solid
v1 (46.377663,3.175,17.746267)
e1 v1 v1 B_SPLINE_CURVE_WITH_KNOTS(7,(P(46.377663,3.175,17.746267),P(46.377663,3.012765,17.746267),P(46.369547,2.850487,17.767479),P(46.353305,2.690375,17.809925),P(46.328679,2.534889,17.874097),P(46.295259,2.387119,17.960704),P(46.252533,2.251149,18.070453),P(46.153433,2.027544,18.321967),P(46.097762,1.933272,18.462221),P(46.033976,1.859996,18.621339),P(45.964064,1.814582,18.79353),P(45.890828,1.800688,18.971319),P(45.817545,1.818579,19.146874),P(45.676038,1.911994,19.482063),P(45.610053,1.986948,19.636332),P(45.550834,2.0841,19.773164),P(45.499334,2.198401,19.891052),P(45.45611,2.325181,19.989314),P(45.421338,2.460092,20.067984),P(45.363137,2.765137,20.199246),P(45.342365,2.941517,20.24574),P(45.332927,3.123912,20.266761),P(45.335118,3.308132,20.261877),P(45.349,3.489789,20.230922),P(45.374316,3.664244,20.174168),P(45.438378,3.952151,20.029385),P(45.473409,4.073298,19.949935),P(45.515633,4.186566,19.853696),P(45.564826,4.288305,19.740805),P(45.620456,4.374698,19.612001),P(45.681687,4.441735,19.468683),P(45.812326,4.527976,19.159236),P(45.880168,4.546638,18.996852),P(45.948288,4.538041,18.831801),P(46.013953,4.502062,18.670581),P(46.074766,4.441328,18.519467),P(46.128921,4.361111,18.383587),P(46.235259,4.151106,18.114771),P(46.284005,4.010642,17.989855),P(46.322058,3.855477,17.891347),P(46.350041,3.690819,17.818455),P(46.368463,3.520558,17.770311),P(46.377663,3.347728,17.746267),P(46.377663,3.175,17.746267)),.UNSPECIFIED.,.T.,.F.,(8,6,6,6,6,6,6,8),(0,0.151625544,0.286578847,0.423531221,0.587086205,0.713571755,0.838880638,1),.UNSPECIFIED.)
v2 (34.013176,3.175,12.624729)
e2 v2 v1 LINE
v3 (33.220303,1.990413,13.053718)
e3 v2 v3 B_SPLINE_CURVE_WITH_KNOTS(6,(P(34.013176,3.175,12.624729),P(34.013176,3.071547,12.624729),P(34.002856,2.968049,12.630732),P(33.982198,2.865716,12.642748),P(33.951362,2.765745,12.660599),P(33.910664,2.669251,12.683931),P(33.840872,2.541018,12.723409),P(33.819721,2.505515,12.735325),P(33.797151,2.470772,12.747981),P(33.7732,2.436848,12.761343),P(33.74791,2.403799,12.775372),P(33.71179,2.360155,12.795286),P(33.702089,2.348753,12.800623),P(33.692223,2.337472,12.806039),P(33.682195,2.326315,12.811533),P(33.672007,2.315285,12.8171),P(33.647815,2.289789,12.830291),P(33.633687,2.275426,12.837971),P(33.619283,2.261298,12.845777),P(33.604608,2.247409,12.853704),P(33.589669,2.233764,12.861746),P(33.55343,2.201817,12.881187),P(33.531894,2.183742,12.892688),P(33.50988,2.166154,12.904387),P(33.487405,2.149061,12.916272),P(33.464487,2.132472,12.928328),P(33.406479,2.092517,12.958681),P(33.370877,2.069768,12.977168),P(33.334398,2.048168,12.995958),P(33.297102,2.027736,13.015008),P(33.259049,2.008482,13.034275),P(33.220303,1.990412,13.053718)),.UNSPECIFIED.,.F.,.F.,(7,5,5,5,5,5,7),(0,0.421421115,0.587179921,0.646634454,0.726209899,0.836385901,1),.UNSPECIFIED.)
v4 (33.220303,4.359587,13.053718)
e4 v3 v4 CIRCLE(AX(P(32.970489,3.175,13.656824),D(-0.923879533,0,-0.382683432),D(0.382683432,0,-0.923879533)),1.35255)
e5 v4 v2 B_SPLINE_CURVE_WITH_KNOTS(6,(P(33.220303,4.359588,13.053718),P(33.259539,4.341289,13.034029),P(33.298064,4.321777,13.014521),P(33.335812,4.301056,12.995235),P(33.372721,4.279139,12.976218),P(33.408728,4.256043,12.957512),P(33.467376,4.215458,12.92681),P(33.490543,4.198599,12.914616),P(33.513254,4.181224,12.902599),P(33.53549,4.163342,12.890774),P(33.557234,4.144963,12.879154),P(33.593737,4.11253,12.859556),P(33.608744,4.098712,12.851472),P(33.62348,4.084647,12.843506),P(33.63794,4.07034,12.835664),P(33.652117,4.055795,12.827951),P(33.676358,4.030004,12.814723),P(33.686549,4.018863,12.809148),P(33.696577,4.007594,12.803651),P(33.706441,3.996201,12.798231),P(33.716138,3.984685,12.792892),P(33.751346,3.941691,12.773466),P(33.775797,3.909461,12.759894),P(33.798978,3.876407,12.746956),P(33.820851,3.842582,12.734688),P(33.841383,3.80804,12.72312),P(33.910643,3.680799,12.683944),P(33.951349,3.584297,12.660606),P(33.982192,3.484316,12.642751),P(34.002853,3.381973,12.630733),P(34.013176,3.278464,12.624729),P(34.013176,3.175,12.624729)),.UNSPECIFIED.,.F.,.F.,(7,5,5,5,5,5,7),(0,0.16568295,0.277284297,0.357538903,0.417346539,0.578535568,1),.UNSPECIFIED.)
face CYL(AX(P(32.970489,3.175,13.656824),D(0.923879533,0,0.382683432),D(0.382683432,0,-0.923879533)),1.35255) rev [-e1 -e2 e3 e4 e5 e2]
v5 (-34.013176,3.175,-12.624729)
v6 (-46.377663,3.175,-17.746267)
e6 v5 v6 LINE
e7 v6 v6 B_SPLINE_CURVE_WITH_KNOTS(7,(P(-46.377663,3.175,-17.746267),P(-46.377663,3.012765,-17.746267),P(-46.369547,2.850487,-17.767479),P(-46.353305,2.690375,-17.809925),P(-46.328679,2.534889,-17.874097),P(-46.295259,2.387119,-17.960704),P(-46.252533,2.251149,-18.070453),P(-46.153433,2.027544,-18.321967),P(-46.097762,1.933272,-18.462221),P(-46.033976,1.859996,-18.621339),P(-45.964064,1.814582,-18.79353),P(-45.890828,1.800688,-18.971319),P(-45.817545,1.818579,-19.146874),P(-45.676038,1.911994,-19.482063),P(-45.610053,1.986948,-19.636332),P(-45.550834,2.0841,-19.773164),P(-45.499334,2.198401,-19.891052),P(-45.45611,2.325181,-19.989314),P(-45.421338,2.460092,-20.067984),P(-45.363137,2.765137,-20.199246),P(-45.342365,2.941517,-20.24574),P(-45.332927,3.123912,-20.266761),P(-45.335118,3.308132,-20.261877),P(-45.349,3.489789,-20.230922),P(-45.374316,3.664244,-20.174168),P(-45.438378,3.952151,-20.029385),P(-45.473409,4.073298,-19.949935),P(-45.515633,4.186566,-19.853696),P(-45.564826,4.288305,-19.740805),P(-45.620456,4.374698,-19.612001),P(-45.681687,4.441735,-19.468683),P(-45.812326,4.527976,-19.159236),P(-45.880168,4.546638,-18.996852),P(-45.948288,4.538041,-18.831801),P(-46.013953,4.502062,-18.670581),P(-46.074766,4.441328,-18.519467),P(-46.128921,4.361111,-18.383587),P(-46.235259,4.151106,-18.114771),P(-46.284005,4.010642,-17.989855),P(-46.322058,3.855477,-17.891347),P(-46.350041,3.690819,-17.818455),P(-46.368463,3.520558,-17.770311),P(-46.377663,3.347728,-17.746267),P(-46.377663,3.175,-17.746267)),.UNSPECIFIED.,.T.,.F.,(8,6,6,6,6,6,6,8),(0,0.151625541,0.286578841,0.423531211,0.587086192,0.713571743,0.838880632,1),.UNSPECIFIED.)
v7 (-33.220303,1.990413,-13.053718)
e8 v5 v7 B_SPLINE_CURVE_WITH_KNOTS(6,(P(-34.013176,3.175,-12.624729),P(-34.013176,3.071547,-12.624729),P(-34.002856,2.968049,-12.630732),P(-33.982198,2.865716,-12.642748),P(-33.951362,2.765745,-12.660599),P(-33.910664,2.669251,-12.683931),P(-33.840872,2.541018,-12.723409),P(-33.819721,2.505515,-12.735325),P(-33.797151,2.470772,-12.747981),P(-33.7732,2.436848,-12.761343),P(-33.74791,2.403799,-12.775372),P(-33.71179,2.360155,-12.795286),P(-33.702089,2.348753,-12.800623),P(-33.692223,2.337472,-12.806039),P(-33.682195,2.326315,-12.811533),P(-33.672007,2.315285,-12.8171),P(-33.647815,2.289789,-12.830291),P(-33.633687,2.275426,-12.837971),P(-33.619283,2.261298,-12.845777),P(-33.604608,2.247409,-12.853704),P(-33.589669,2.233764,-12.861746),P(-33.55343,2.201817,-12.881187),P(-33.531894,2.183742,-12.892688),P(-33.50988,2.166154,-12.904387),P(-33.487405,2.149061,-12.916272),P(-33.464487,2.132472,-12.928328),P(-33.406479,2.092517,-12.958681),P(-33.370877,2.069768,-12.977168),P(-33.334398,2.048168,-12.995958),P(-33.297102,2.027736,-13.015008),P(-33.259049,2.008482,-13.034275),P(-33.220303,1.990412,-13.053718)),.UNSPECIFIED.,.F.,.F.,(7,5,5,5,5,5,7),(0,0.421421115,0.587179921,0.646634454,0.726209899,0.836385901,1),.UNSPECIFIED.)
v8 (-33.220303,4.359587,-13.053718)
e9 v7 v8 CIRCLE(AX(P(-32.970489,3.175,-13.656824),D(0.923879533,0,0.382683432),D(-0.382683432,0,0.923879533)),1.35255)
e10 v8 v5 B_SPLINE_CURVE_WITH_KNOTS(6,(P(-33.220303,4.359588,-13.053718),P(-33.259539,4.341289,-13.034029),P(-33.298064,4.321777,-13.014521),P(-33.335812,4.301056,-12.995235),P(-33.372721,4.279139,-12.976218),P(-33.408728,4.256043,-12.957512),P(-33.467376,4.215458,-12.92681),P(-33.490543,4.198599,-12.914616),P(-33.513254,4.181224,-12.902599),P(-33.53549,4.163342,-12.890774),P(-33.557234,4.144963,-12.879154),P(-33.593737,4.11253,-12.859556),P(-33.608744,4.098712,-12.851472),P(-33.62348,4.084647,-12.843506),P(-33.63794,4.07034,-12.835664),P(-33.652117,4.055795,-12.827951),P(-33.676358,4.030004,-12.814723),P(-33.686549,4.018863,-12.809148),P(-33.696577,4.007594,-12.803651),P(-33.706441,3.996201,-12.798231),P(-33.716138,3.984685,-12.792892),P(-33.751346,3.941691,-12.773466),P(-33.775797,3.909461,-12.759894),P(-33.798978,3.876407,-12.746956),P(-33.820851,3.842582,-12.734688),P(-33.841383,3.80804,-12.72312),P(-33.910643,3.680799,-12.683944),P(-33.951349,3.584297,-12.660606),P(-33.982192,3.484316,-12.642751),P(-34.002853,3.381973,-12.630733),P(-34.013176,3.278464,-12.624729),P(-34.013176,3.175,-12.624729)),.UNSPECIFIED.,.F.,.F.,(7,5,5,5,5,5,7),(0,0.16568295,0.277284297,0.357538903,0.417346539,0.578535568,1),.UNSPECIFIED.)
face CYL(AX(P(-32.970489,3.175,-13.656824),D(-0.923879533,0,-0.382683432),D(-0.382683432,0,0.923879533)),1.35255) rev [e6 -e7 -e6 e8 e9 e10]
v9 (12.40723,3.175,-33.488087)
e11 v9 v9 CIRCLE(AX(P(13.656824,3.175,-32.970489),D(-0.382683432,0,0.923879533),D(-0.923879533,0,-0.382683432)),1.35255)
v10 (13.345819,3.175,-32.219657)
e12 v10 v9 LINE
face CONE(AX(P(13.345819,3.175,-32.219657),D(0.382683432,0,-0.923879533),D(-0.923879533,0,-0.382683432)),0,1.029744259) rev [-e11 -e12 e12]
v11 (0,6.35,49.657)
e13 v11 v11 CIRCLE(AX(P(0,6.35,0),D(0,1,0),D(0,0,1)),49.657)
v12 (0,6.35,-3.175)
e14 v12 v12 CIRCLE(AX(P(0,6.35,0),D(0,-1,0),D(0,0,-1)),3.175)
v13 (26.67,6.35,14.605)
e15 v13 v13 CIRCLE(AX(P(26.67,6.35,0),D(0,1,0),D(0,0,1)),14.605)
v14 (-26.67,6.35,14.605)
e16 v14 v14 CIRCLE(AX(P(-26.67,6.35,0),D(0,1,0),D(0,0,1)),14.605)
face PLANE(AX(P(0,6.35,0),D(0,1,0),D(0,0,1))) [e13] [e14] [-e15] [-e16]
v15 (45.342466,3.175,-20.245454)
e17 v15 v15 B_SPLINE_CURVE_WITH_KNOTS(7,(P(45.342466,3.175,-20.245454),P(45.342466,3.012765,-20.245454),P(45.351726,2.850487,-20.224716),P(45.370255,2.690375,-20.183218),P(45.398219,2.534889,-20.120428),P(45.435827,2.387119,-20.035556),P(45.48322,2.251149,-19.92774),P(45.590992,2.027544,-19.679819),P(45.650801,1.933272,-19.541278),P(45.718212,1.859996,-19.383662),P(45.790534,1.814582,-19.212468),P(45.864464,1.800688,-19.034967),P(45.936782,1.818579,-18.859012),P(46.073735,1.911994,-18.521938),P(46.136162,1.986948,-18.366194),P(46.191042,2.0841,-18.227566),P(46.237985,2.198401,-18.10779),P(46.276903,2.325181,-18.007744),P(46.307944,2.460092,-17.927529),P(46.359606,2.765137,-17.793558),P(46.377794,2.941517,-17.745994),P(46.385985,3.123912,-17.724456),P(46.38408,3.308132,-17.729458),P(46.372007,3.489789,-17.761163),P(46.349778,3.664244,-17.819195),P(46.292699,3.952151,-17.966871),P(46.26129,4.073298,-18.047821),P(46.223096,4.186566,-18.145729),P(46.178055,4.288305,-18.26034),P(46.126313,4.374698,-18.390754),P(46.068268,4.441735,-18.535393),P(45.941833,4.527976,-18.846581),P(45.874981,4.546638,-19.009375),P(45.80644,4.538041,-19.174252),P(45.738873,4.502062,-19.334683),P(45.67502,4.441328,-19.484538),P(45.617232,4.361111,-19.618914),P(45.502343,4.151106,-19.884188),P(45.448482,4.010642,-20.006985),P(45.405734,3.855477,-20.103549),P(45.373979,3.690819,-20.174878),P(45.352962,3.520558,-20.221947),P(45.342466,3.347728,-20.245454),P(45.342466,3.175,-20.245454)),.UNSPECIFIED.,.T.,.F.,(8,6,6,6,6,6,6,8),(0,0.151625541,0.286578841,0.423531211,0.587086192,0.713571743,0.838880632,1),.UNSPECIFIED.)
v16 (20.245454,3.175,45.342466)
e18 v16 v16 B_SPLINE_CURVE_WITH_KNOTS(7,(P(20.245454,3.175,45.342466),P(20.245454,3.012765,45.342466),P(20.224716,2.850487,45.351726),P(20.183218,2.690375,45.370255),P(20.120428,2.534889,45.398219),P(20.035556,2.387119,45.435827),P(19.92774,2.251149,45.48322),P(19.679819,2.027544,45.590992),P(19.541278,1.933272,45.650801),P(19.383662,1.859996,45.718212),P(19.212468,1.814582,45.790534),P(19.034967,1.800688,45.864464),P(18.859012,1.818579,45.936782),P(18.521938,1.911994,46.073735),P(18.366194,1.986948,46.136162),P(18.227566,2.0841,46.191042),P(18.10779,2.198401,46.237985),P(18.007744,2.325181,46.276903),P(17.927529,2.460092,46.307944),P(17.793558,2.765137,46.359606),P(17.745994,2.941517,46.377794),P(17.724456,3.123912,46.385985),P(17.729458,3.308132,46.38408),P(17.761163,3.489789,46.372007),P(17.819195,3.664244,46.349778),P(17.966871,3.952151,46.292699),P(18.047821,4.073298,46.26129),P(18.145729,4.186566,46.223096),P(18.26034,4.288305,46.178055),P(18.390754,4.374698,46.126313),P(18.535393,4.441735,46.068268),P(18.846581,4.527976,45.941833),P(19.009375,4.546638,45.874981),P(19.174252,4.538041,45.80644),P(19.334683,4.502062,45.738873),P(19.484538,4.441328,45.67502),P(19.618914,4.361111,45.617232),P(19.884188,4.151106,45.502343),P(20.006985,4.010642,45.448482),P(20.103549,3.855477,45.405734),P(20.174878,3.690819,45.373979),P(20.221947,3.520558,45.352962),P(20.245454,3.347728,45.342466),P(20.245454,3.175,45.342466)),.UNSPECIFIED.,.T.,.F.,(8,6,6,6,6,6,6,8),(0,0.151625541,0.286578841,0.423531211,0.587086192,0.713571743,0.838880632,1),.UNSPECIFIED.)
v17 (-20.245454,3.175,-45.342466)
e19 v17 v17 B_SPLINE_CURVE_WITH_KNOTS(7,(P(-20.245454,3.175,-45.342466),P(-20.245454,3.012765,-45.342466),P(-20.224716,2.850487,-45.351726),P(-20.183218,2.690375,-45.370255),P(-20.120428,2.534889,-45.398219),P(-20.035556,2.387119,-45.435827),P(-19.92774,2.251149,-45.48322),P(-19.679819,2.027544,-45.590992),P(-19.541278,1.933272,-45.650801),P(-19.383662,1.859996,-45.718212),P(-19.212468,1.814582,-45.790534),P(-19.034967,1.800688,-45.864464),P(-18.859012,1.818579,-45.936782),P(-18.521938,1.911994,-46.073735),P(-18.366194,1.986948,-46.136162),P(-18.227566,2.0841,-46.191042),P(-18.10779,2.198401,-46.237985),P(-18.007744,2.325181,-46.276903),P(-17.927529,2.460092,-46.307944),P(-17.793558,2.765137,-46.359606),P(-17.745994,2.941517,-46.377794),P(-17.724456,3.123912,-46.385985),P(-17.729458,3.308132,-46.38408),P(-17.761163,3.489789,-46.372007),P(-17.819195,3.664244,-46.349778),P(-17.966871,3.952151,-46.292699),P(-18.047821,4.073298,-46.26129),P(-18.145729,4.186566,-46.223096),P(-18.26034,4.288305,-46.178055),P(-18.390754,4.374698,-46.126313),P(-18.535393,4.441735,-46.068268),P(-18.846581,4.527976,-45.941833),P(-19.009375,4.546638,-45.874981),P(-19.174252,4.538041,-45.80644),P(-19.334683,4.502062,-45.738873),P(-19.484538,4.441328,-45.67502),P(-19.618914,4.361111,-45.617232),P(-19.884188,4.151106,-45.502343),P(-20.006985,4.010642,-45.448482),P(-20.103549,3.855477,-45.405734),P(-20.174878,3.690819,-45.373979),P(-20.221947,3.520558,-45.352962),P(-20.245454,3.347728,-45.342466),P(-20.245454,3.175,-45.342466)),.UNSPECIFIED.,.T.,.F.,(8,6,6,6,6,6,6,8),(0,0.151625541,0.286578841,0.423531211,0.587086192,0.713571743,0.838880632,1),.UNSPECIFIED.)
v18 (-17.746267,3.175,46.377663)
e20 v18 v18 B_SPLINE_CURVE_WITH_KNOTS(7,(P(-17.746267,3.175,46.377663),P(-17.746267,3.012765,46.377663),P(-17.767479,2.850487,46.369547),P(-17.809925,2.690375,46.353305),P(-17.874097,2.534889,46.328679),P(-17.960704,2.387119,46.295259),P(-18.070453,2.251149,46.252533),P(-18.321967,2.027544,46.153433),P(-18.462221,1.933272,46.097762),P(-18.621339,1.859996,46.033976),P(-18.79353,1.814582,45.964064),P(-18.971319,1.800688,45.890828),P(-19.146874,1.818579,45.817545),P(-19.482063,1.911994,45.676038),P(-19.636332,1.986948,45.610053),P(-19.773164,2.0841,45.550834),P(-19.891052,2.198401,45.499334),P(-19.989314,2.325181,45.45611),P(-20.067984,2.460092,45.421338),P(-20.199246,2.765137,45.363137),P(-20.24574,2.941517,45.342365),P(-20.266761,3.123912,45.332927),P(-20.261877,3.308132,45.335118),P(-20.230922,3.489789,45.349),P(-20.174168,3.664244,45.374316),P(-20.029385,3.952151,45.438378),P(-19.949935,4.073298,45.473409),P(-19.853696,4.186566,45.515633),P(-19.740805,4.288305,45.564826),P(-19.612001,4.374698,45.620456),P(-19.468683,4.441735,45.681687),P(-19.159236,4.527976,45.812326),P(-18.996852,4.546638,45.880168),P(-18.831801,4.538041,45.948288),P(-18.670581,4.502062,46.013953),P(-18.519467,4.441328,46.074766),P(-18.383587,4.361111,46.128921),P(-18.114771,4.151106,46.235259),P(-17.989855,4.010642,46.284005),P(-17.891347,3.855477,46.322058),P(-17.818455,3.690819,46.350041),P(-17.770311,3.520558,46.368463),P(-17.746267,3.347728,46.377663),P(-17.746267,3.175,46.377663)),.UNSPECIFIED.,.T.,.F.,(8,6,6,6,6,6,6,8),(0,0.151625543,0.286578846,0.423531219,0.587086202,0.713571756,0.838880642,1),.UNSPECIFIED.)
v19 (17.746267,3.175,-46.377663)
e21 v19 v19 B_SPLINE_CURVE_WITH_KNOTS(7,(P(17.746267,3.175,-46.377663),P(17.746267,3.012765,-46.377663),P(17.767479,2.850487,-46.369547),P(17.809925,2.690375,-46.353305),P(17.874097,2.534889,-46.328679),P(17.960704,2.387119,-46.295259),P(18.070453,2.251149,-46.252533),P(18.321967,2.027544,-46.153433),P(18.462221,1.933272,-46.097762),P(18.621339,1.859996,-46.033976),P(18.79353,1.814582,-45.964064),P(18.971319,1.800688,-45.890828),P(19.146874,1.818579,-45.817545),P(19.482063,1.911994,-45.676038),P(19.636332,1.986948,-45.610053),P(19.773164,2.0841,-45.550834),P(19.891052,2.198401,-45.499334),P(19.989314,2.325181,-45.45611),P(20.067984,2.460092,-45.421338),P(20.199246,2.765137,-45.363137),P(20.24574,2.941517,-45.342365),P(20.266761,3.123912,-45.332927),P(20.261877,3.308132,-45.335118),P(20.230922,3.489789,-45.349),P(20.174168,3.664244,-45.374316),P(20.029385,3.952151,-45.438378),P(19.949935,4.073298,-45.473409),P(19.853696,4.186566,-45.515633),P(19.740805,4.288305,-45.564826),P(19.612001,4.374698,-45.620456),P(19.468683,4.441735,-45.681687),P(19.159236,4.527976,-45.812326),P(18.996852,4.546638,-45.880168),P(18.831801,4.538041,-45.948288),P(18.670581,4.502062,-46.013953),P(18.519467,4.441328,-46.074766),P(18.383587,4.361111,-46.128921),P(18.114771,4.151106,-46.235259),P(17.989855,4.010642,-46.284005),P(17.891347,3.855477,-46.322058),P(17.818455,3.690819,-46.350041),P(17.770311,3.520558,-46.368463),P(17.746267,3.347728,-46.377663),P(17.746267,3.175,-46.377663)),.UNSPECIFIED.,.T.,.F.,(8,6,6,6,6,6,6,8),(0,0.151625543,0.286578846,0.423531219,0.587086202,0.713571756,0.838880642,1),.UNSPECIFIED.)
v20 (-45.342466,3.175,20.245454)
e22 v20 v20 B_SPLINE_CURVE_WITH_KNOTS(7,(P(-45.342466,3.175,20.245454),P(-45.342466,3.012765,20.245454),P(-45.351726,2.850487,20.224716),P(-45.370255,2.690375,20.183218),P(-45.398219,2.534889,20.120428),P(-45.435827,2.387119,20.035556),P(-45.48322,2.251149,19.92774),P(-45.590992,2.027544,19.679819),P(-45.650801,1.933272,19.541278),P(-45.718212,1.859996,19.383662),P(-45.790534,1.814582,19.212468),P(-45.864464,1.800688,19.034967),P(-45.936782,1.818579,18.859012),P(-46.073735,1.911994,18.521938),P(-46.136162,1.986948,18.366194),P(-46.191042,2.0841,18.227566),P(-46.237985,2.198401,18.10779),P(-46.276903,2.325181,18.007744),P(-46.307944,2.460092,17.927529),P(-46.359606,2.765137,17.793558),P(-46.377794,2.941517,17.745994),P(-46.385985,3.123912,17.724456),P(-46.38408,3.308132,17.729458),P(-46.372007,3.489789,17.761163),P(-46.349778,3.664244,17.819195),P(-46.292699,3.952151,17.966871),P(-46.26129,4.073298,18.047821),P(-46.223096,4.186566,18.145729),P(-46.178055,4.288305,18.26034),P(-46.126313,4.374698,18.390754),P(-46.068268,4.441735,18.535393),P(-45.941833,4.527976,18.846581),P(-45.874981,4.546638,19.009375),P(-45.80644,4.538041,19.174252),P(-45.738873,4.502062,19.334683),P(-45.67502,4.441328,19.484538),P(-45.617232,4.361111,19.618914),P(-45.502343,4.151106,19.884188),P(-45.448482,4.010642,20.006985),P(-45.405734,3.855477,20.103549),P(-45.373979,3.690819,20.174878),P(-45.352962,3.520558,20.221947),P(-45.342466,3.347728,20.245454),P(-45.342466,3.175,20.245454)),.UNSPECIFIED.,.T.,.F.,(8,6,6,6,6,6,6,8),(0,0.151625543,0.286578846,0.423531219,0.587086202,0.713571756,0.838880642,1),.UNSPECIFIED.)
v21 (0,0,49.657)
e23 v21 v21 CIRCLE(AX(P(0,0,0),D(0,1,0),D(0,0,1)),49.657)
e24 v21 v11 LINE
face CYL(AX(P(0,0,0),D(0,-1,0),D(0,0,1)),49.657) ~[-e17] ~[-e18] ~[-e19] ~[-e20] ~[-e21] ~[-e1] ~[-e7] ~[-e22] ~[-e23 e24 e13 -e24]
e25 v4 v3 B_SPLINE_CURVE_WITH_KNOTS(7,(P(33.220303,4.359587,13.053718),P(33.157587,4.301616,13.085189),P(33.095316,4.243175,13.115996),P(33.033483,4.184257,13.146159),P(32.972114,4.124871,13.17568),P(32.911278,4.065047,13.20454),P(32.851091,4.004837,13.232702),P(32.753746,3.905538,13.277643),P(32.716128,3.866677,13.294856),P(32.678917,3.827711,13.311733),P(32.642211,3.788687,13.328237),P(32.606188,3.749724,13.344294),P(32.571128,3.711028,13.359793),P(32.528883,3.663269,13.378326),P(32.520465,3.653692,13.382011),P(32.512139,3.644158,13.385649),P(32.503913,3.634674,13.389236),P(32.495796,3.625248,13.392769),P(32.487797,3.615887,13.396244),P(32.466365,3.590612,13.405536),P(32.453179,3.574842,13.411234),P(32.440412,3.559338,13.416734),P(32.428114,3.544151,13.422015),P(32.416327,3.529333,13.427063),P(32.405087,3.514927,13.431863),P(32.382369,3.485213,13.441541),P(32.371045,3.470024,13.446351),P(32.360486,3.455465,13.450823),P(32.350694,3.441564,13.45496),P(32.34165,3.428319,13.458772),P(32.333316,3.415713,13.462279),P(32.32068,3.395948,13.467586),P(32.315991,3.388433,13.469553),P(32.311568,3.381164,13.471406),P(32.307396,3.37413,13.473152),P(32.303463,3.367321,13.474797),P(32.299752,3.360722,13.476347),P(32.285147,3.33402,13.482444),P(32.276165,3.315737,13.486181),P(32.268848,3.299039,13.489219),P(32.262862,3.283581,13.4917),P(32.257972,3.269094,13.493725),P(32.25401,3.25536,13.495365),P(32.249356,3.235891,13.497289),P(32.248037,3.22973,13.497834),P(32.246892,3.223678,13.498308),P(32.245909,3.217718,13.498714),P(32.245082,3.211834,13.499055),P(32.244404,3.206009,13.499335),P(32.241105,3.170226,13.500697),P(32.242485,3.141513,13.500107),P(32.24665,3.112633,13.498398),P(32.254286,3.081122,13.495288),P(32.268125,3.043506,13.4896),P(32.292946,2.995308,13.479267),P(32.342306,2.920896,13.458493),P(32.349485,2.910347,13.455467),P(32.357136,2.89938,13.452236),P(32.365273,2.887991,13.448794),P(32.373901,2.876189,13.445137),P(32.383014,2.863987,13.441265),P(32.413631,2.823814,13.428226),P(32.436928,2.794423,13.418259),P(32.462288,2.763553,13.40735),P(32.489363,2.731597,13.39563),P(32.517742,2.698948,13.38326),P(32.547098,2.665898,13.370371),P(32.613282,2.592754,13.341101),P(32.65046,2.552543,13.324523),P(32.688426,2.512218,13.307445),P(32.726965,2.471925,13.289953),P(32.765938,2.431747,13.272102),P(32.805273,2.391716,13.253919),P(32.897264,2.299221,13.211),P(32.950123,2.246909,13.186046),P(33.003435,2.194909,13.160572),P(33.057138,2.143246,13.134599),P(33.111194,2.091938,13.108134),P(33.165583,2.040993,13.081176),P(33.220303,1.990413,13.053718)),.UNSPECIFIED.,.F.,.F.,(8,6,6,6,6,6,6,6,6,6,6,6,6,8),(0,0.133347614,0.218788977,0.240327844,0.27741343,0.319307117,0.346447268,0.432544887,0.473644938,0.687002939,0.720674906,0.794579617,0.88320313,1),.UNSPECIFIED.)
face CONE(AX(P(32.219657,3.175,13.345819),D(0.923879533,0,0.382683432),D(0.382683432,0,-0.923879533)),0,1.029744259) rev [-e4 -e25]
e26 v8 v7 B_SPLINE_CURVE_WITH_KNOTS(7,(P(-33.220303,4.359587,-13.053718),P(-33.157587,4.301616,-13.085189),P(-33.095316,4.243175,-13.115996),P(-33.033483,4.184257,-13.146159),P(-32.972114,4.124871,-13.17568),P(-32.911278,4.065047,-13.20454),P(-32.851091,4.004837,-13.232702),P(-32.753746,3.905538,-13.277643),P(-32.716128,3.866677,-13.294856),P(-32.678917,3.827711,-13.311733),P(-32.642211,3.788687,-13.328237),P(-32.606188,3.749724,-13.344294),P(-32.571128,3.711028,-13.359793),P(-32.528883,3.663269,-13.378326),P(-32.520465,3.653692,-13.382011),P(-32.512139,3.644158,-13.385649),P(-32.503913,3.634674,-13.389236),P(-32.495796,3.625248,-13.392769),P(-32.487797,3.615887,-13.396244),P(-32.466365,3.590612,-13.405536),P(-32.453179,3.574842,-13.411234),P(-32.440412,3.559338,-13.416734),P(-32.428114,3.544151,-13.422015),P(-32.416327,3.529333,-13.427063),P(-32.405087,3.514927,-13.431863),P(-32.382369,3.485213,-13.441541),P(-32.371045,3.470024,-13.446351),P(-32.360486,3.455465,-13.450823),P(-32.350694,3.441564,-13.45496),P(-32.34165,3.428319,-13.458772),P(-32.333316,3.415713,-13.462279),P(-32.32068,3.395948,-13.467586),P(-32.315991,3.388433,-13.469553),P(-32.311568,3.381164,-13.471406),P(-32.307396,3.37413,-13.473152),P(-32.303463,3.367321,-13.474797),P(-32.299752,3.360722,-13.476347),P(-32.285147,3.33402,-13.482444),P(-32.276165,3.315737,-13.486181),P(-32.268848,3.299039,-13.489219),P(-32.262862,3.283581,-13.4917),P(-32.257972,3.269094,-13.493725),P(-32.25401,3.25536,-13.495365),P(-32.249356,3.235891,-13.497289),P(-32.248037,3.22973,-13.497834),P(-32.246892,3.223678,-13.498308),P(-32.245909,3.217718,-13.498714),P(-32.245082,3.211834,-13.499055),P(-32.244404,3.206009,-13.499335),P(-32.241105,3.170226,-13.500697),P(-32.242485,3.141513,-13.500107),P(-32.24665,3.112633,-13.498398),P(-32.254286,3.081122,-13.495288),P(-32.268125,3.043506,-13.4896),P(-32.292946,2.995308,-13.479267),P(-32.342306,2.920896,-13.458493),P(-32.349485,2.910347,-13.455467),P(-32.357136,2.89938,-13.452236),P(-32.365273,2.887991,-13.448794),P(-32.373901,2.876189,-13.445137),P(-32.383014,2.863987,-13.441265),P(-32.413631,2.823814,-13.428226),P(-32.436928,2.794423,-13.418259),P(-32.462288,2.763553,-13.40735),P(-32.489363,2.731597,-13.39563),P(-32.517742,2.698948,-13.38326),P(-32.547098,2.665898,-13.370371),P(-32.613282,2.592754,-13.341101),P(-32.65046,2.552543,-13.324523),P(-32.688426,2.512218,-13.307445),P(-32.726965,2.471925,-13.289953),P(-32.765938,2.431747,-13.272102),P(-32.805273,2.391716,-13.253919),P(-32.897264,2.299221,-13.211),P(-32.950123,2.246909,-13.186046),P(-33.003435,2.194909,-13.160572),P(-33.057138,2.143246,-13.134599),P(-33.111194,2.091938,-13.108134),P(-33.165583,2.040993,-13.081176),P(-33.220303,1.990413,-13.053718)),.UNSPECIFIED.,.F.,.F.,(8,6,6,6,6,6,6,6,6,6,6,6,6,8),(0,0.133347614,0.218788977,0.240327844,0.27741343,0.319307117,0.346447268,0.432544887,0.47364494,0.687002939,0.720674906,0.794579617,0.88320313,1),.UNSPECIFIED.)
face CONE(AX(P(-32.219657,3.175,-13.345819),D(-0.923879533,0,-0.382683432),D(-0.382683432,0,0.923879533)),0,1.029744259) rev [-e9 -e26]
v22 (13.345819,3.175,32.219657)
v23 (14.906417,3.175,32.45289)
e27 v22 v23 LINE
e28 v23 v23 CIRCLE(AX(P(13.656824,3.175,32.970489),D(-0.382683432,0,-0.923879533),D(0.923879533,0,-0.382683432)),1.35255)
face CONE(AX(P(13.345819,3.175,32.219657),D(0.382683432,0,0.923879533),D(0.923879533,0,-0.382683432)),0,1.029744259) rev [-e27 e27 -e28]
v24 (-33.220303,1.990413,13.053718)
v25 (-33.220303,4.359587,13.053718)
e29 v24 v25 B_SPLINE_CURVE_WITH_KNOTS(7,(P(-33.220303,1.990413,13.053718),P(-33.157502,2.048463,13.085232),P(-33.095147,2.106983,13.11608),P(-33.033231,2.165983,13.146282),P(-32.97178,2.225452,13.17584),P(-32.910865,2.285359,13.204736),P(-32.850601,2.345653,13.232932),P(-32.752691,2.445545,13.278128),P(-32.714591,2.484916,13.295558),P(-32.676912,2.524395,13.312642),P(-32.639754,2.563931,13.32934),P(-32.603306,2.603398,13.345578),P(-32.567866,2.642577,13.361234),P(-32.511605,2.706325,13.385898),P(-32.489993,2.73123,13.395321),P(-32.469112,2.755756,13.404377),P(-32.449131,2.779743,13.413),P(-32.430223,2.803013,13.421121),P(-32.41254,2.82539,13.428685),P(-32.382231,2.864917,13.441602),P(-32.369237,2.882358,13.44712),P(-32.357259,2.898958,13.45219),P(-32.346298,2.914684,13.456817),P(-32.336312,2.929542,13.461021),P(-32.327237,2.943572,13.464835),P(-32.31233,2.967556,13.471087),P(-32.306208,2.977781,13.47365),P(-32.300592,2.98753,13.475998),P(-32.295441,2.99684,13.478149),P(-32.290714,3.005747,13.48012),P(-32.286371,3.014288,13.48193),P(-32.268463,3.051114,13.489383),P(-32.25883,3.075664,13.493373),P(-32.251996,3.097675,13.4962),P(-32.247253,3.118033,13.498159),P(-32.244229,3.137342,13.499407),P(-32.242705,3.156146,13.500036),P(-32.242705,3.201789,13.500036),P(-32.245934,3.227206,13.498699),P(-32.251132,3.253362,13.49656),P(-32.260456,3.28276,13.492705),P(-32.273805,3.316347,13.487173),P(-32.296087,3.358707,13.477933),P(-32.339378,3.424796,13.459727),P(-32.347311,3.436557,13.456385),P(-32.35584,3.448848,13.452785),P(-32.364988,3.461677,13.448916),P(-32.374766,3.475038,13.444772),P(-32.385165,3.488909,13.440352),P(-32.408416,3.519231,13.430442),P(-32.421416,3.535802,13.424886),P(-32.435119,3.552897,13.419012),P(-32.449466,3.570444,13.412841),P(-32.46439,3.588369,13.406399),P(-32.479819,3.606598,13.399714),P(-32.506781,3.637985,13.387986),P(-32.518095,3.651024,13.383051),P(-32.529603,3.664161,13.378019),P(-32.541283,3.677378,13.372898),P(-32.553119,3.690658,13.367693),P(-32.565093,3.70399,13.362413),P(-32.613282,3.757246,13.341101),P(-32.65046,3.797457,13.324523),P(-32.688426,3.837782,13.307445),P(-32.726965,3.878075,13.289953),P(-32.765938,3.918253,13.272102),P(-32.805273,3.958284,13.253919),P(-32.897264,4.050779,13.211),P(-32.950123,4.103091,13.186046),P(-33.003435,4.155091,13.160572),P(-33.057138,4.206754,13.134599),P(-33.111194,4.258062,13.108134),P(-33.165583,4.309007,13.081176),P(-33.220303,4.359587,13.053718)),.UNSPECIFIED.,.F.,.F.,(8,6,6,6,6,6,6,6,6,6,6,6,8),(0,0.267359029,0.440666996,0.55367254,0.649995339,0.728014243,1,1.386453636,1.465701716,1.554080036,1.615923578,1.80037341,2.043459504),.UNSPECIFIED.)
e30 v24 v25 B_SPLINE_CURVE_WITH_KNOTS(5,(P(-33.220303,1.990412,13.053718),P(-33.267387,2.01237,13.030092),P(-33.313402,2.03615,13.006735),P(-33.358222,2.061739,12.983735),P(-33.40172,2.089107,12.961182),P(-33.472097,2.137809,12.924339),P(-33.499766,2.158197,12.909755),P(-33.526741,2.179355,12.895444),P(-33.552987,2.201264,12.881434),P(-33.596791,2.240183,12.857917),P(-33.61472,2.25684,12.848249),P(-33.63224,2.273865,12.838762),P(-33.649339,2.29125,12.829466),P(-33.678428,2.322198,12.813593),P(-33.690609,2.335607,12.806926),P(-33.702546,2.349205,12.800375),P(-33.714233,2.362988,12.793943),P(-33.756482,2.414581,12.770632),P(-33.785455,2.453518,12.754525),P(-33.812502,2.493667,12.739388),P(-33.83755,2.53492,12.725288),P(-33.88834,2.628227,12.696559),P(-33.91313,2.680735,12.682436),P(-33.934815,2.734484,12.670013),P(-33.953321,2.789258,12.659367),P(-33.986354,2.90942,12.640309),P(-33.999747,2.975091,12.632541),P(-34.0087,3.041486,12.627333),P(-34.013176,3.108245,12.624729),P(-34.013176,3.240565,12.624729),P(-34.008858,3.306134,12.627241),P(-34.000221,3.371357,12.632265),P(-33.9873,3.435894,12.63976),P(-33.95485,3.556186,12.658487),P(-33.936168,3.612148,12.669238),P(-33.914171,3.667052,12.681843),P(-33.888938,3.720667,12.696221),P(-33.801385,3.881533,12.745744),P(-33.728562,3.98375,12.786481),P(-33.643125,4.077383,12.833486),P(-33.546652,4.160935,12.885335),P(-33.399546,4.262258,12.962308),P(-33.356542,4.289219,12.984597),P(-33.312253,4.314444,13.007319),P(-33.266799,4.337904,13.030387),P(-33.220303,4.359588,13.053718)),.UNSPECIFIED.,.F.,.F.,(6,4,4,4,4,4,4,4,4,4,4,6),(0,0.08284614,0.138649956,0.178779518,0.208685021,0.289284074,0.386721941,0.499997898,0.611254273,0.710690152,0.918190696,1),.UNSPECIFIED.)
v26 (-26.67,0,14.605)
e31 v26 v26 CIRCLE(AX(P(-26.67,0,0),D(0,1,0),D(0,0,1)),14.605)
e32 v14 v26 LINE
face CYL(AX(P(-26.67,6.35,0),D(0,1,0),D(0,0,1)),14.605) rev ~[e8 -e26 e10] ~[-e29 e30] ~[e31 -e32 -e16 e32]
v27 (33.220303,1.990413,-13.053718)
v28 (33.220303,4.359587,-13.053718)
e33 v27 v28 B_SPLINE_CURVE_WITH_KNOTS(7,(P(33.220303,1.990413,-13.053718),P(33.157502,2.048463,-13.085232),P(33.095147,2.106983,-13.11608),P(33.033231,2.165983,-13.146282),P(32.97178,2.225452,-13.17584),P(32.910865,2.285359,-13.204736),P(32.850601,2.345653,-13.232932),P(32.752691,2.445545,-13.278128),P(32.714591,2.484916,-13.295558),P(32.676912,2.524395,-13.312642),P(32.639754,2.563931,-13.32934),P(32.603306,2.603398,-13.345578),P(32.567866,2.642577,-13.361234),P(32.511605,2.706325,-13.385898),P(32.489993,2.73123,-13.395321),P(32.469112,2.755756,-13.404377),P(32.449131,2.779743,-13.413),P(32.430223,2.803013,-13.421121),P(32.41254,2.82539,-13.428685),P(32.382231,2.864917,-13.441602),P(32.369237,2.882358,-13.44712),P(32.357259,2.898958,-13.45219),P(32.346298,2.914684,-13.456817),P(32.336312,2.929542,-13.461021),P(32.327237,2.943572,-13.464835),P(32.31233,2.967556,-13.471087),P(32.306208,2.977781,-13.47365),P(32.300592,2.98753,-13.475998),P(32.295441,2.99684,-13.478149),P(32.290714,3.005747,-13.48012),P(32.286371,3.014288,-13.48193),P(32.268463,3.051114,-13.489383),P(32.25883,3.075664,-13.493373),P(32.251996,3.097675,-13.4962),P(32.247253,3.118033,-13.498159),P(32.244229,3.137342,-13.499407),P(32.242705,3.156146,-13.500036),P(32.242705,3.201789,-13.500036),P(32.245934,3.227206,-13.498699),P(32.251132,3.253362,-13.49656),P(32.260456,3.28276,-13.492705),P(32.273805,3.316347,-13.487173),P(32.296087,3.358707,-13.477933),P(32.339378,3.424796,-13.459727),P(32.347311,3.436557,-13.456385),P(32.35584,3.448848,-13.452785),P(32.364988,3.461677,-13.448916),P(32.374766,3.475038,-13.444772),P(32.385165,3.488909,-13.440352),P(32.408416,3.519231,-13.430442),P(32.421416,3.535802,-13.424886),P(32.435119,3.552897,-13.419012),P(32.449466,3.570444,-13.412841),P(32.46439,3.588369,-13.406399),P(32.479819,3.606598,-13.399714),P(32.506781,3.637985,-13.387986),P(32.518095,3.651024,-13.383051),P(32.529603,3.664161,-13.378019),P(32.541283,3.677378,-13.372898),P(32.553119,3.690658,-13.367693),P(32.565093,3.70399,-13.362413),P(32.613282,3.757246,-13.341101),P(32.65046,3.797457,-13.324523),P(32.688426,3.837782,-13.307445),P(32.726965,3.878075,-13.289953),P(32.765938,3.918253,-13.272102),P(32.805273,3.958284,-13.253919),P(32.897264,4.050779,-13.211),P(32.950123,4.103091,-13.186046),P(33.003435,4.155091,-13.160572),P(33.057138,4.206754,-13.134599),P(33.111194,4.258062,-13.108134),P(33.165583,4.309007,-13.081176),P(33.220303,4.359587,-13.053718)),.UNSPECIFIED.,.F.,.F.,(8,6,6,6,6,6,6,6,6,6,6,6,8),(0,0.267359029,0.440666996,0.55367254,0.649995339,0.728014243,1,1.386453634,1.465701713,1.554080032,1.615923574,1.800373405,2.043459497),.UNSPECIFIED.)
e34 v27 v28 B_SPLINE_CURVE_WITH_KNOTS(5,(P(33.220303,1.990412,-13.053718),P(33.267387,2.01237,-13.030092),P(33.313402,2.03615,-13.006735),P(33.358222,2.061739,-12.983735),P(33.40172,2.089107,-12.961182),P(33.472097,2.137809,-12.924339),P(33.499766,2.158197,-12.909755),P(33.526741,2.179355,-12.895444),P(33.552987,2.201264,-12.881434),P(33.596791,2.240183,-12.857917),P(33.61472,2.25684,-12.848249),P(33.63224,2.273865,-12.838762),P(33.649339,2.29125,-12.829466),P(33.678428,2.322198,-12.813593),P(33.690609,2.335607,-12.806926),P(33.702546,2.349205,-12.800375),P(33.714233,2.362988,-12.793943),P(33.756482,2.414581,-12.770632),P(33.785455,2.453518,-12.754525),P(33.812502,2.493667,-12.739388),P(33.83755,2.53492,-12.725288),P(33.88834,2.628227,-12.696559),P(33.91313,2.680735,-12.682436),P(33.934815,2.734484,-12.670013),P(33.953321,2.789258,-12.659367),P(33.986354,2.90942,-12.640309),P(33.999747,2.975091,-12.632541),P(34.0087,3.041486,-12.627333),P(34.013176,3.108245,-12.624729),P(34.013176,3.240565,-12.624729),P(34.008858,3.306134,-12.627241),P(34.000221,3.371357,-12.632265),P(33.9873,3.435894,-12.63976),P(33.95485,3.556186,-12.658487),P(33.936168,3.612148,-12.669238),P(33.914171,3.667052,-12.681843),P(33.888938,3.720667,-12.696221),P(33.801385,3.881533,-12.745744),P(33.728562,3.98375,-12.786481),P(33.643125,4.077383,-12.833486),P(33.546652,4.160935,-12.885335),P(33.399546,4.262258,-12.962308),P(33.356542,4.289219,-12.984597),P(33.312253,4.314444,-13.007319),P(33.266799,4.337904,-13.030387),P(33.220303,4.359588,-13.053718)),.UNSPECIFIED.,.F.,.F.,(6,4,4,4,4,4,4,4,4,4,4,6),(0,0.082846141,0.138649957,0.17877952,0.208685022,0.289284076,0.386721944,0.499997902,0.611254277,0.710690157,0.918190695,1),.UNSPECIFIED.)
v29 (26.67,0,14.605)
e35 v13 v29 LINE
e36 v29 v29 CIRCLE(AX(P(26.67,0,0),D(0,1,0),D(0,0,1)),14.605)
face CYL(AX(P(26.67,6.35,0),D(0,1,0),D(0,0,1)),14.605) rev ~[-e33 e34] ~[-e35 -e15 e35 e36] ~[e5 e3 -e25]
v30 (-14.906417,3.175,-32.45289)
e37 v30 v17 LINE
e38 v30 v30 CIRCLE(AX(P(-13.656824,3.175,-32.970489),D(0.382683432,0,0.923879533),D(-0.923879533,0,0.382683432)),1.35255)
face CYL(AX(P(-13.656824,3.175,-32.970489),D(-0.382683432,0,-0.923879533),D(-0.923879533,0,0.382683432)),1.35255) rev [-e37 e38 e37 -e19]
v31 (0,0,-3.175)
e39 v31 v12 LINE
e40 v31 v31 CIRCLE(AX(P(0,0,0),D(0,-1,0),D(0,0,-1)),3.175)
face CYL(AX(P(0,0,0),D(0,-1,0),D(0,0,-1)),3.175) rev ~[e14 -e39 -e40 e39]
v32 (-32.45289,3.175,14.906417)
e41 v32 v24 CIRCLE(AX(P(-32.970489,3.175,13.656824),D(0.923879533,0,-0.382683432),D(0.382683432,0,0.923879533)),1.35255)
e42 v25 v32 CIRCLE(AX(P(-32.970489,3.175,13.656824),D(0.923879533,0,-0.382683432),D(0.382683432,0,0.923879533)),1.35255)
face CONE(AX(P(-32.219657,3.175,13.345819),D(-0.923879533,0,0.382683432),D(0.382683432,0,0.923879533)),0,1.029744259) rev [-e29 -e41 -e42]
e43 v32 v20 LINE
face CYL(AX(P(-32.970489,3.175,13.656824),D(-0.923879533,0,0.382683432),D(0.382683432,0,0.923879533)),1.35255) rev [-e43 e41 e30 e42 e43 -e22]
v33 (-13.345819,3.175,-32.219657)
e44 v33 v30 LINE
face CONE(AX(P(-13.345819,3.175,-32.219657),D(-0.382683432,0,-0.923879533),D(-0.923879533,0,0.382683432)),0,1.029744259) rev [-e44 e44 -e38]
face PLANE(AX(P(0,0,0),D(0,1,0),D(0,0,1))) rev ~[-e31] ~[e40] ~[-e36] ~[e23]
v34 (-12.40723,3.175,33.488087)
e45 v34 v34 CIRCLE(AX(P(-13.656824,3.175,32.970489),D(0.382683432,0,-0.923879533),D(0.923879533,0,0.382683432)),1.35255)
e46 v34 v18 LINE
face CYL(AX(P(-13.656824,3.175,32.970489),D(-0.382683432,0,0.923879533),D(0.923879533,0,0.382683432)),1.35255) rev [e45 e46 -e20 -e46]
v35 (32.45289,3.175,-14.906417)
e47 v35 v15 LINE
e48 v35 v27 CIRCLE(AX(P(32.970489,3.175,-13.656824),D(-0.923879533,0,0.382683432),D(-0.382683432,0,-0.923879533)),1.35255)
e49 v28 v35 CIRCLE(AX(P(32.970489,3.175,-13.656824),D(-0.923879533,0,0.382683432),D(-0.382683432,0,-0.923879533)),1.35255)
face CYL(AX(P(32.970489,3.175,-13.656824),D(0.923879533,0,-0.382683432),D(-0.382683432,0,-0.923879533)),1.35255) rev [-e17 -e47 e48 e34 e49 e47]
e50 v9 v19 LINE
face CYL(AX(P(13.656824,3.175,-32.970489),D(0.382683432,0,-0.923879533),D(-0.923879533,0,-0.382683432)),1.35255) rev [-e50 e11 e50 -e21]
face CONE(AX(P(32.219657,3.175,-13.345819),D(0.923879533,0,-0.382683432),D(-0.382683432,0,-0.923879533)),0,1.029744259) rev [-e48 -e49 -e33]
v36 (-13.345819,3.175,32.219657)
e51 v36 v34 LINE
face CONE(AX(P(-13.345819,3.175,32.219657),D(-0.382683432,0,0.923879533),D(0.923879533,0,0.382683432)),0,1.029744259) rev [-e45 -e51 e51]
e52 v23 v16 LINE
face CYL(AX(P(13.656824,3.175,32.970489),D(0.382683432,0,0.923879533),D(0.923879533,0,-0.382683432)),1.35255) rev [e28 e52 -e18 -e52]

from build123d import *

# Parameters (mm, degrees)
SKETCH2_R           = 49.657
BOSS_EXTRUDE1_DEPTH = 6.35
SKETCH3_R           = 14.605
CUT_EXTRUDE1_DEPTH  = 6.35
SKETCH5_R           = 3.175
CUT_EXTRUDE2_DEPTH  = 6.35
CIRPATTERN1_COUNT   = 8


with BuildPart() as part:
    # Sketch2 → Boss-Extrude1 (new body)
    with BuildSketch(Plane(origin=(0, 0, 0), x_dir=(1, 0, 0), z_dir=(0, 1, 0))):
        with Locations(Location((0, 0, 0), (0, 0, 270))):
            Circle(SKETCH2_R)
    extrude(amount=BOSS_EXTRUDE1_DEPTH)

    # Sketch3 → Cut-Extrude1 (cut)
    with BuildSketch(Plane(origin=(0, 6.35, 0), x_dir=(1, 0, 0), z_dir=(0, 1, 0))):
        with Locations(Location((26.67, 0, 0), (0, 0, 270))):
            Circle(SKETCH3_R)
        with Locations(Location((-26.67, 0, 0), (0, 0, 270))):
            Circle(SKETCH3_R)
    extrude(amount=-CUT_EXTRUDE1_DEPTH, mode=Mode.SUBTRACT)

    # Sketch5 → Cut-Extrude2 (cut)
    with BuildSketch(Plane.XZ):
        with Locations(Location((0, 0, 0), (0, 0, 270))):
            Circle(SKETCH5_R)
    extrude(amount=-CUT_EXTRUDE2_DEPTH, mode=Mode.SUBTRACT)

    # Sketch8 → #6-32 Tapped Hole1 (revolve, cut)
    with BuildSketch(Plane(origin=(-19.002911201, 3.175, 45.877085946), x_dir=(0.9238795325112864, 0, 0.38268343236509056), z_dir=(0, 1, 0))):
        Polygon((0, 0), (0, 14.78269403), (1.35255, 13.97), (1.35255, 0), align=None)
    f_6_32_tapped_hole1 = revolve(axis=Axis((-21.432950996, 3.175, 51.743720977), (0.38268343236509056, 0, -0.9238795325112865)), mode=Mode.SUBTRACT)

    # CirPattern1: #6-32 Tapped Hole1 ×8 about axis
    cirpattern1_axis = Axis((0, -0.3175, 0), (0, 1, 0))
    for i in range(1, CIRPATTERN1_COUNT):
        add(f_6_32_tapped_hole1.rotate(cirpattern1_axis, i * 360 / CIRPATTERN1_COUNT), mode=Mode.SUBTRACT)


solid = part.part
